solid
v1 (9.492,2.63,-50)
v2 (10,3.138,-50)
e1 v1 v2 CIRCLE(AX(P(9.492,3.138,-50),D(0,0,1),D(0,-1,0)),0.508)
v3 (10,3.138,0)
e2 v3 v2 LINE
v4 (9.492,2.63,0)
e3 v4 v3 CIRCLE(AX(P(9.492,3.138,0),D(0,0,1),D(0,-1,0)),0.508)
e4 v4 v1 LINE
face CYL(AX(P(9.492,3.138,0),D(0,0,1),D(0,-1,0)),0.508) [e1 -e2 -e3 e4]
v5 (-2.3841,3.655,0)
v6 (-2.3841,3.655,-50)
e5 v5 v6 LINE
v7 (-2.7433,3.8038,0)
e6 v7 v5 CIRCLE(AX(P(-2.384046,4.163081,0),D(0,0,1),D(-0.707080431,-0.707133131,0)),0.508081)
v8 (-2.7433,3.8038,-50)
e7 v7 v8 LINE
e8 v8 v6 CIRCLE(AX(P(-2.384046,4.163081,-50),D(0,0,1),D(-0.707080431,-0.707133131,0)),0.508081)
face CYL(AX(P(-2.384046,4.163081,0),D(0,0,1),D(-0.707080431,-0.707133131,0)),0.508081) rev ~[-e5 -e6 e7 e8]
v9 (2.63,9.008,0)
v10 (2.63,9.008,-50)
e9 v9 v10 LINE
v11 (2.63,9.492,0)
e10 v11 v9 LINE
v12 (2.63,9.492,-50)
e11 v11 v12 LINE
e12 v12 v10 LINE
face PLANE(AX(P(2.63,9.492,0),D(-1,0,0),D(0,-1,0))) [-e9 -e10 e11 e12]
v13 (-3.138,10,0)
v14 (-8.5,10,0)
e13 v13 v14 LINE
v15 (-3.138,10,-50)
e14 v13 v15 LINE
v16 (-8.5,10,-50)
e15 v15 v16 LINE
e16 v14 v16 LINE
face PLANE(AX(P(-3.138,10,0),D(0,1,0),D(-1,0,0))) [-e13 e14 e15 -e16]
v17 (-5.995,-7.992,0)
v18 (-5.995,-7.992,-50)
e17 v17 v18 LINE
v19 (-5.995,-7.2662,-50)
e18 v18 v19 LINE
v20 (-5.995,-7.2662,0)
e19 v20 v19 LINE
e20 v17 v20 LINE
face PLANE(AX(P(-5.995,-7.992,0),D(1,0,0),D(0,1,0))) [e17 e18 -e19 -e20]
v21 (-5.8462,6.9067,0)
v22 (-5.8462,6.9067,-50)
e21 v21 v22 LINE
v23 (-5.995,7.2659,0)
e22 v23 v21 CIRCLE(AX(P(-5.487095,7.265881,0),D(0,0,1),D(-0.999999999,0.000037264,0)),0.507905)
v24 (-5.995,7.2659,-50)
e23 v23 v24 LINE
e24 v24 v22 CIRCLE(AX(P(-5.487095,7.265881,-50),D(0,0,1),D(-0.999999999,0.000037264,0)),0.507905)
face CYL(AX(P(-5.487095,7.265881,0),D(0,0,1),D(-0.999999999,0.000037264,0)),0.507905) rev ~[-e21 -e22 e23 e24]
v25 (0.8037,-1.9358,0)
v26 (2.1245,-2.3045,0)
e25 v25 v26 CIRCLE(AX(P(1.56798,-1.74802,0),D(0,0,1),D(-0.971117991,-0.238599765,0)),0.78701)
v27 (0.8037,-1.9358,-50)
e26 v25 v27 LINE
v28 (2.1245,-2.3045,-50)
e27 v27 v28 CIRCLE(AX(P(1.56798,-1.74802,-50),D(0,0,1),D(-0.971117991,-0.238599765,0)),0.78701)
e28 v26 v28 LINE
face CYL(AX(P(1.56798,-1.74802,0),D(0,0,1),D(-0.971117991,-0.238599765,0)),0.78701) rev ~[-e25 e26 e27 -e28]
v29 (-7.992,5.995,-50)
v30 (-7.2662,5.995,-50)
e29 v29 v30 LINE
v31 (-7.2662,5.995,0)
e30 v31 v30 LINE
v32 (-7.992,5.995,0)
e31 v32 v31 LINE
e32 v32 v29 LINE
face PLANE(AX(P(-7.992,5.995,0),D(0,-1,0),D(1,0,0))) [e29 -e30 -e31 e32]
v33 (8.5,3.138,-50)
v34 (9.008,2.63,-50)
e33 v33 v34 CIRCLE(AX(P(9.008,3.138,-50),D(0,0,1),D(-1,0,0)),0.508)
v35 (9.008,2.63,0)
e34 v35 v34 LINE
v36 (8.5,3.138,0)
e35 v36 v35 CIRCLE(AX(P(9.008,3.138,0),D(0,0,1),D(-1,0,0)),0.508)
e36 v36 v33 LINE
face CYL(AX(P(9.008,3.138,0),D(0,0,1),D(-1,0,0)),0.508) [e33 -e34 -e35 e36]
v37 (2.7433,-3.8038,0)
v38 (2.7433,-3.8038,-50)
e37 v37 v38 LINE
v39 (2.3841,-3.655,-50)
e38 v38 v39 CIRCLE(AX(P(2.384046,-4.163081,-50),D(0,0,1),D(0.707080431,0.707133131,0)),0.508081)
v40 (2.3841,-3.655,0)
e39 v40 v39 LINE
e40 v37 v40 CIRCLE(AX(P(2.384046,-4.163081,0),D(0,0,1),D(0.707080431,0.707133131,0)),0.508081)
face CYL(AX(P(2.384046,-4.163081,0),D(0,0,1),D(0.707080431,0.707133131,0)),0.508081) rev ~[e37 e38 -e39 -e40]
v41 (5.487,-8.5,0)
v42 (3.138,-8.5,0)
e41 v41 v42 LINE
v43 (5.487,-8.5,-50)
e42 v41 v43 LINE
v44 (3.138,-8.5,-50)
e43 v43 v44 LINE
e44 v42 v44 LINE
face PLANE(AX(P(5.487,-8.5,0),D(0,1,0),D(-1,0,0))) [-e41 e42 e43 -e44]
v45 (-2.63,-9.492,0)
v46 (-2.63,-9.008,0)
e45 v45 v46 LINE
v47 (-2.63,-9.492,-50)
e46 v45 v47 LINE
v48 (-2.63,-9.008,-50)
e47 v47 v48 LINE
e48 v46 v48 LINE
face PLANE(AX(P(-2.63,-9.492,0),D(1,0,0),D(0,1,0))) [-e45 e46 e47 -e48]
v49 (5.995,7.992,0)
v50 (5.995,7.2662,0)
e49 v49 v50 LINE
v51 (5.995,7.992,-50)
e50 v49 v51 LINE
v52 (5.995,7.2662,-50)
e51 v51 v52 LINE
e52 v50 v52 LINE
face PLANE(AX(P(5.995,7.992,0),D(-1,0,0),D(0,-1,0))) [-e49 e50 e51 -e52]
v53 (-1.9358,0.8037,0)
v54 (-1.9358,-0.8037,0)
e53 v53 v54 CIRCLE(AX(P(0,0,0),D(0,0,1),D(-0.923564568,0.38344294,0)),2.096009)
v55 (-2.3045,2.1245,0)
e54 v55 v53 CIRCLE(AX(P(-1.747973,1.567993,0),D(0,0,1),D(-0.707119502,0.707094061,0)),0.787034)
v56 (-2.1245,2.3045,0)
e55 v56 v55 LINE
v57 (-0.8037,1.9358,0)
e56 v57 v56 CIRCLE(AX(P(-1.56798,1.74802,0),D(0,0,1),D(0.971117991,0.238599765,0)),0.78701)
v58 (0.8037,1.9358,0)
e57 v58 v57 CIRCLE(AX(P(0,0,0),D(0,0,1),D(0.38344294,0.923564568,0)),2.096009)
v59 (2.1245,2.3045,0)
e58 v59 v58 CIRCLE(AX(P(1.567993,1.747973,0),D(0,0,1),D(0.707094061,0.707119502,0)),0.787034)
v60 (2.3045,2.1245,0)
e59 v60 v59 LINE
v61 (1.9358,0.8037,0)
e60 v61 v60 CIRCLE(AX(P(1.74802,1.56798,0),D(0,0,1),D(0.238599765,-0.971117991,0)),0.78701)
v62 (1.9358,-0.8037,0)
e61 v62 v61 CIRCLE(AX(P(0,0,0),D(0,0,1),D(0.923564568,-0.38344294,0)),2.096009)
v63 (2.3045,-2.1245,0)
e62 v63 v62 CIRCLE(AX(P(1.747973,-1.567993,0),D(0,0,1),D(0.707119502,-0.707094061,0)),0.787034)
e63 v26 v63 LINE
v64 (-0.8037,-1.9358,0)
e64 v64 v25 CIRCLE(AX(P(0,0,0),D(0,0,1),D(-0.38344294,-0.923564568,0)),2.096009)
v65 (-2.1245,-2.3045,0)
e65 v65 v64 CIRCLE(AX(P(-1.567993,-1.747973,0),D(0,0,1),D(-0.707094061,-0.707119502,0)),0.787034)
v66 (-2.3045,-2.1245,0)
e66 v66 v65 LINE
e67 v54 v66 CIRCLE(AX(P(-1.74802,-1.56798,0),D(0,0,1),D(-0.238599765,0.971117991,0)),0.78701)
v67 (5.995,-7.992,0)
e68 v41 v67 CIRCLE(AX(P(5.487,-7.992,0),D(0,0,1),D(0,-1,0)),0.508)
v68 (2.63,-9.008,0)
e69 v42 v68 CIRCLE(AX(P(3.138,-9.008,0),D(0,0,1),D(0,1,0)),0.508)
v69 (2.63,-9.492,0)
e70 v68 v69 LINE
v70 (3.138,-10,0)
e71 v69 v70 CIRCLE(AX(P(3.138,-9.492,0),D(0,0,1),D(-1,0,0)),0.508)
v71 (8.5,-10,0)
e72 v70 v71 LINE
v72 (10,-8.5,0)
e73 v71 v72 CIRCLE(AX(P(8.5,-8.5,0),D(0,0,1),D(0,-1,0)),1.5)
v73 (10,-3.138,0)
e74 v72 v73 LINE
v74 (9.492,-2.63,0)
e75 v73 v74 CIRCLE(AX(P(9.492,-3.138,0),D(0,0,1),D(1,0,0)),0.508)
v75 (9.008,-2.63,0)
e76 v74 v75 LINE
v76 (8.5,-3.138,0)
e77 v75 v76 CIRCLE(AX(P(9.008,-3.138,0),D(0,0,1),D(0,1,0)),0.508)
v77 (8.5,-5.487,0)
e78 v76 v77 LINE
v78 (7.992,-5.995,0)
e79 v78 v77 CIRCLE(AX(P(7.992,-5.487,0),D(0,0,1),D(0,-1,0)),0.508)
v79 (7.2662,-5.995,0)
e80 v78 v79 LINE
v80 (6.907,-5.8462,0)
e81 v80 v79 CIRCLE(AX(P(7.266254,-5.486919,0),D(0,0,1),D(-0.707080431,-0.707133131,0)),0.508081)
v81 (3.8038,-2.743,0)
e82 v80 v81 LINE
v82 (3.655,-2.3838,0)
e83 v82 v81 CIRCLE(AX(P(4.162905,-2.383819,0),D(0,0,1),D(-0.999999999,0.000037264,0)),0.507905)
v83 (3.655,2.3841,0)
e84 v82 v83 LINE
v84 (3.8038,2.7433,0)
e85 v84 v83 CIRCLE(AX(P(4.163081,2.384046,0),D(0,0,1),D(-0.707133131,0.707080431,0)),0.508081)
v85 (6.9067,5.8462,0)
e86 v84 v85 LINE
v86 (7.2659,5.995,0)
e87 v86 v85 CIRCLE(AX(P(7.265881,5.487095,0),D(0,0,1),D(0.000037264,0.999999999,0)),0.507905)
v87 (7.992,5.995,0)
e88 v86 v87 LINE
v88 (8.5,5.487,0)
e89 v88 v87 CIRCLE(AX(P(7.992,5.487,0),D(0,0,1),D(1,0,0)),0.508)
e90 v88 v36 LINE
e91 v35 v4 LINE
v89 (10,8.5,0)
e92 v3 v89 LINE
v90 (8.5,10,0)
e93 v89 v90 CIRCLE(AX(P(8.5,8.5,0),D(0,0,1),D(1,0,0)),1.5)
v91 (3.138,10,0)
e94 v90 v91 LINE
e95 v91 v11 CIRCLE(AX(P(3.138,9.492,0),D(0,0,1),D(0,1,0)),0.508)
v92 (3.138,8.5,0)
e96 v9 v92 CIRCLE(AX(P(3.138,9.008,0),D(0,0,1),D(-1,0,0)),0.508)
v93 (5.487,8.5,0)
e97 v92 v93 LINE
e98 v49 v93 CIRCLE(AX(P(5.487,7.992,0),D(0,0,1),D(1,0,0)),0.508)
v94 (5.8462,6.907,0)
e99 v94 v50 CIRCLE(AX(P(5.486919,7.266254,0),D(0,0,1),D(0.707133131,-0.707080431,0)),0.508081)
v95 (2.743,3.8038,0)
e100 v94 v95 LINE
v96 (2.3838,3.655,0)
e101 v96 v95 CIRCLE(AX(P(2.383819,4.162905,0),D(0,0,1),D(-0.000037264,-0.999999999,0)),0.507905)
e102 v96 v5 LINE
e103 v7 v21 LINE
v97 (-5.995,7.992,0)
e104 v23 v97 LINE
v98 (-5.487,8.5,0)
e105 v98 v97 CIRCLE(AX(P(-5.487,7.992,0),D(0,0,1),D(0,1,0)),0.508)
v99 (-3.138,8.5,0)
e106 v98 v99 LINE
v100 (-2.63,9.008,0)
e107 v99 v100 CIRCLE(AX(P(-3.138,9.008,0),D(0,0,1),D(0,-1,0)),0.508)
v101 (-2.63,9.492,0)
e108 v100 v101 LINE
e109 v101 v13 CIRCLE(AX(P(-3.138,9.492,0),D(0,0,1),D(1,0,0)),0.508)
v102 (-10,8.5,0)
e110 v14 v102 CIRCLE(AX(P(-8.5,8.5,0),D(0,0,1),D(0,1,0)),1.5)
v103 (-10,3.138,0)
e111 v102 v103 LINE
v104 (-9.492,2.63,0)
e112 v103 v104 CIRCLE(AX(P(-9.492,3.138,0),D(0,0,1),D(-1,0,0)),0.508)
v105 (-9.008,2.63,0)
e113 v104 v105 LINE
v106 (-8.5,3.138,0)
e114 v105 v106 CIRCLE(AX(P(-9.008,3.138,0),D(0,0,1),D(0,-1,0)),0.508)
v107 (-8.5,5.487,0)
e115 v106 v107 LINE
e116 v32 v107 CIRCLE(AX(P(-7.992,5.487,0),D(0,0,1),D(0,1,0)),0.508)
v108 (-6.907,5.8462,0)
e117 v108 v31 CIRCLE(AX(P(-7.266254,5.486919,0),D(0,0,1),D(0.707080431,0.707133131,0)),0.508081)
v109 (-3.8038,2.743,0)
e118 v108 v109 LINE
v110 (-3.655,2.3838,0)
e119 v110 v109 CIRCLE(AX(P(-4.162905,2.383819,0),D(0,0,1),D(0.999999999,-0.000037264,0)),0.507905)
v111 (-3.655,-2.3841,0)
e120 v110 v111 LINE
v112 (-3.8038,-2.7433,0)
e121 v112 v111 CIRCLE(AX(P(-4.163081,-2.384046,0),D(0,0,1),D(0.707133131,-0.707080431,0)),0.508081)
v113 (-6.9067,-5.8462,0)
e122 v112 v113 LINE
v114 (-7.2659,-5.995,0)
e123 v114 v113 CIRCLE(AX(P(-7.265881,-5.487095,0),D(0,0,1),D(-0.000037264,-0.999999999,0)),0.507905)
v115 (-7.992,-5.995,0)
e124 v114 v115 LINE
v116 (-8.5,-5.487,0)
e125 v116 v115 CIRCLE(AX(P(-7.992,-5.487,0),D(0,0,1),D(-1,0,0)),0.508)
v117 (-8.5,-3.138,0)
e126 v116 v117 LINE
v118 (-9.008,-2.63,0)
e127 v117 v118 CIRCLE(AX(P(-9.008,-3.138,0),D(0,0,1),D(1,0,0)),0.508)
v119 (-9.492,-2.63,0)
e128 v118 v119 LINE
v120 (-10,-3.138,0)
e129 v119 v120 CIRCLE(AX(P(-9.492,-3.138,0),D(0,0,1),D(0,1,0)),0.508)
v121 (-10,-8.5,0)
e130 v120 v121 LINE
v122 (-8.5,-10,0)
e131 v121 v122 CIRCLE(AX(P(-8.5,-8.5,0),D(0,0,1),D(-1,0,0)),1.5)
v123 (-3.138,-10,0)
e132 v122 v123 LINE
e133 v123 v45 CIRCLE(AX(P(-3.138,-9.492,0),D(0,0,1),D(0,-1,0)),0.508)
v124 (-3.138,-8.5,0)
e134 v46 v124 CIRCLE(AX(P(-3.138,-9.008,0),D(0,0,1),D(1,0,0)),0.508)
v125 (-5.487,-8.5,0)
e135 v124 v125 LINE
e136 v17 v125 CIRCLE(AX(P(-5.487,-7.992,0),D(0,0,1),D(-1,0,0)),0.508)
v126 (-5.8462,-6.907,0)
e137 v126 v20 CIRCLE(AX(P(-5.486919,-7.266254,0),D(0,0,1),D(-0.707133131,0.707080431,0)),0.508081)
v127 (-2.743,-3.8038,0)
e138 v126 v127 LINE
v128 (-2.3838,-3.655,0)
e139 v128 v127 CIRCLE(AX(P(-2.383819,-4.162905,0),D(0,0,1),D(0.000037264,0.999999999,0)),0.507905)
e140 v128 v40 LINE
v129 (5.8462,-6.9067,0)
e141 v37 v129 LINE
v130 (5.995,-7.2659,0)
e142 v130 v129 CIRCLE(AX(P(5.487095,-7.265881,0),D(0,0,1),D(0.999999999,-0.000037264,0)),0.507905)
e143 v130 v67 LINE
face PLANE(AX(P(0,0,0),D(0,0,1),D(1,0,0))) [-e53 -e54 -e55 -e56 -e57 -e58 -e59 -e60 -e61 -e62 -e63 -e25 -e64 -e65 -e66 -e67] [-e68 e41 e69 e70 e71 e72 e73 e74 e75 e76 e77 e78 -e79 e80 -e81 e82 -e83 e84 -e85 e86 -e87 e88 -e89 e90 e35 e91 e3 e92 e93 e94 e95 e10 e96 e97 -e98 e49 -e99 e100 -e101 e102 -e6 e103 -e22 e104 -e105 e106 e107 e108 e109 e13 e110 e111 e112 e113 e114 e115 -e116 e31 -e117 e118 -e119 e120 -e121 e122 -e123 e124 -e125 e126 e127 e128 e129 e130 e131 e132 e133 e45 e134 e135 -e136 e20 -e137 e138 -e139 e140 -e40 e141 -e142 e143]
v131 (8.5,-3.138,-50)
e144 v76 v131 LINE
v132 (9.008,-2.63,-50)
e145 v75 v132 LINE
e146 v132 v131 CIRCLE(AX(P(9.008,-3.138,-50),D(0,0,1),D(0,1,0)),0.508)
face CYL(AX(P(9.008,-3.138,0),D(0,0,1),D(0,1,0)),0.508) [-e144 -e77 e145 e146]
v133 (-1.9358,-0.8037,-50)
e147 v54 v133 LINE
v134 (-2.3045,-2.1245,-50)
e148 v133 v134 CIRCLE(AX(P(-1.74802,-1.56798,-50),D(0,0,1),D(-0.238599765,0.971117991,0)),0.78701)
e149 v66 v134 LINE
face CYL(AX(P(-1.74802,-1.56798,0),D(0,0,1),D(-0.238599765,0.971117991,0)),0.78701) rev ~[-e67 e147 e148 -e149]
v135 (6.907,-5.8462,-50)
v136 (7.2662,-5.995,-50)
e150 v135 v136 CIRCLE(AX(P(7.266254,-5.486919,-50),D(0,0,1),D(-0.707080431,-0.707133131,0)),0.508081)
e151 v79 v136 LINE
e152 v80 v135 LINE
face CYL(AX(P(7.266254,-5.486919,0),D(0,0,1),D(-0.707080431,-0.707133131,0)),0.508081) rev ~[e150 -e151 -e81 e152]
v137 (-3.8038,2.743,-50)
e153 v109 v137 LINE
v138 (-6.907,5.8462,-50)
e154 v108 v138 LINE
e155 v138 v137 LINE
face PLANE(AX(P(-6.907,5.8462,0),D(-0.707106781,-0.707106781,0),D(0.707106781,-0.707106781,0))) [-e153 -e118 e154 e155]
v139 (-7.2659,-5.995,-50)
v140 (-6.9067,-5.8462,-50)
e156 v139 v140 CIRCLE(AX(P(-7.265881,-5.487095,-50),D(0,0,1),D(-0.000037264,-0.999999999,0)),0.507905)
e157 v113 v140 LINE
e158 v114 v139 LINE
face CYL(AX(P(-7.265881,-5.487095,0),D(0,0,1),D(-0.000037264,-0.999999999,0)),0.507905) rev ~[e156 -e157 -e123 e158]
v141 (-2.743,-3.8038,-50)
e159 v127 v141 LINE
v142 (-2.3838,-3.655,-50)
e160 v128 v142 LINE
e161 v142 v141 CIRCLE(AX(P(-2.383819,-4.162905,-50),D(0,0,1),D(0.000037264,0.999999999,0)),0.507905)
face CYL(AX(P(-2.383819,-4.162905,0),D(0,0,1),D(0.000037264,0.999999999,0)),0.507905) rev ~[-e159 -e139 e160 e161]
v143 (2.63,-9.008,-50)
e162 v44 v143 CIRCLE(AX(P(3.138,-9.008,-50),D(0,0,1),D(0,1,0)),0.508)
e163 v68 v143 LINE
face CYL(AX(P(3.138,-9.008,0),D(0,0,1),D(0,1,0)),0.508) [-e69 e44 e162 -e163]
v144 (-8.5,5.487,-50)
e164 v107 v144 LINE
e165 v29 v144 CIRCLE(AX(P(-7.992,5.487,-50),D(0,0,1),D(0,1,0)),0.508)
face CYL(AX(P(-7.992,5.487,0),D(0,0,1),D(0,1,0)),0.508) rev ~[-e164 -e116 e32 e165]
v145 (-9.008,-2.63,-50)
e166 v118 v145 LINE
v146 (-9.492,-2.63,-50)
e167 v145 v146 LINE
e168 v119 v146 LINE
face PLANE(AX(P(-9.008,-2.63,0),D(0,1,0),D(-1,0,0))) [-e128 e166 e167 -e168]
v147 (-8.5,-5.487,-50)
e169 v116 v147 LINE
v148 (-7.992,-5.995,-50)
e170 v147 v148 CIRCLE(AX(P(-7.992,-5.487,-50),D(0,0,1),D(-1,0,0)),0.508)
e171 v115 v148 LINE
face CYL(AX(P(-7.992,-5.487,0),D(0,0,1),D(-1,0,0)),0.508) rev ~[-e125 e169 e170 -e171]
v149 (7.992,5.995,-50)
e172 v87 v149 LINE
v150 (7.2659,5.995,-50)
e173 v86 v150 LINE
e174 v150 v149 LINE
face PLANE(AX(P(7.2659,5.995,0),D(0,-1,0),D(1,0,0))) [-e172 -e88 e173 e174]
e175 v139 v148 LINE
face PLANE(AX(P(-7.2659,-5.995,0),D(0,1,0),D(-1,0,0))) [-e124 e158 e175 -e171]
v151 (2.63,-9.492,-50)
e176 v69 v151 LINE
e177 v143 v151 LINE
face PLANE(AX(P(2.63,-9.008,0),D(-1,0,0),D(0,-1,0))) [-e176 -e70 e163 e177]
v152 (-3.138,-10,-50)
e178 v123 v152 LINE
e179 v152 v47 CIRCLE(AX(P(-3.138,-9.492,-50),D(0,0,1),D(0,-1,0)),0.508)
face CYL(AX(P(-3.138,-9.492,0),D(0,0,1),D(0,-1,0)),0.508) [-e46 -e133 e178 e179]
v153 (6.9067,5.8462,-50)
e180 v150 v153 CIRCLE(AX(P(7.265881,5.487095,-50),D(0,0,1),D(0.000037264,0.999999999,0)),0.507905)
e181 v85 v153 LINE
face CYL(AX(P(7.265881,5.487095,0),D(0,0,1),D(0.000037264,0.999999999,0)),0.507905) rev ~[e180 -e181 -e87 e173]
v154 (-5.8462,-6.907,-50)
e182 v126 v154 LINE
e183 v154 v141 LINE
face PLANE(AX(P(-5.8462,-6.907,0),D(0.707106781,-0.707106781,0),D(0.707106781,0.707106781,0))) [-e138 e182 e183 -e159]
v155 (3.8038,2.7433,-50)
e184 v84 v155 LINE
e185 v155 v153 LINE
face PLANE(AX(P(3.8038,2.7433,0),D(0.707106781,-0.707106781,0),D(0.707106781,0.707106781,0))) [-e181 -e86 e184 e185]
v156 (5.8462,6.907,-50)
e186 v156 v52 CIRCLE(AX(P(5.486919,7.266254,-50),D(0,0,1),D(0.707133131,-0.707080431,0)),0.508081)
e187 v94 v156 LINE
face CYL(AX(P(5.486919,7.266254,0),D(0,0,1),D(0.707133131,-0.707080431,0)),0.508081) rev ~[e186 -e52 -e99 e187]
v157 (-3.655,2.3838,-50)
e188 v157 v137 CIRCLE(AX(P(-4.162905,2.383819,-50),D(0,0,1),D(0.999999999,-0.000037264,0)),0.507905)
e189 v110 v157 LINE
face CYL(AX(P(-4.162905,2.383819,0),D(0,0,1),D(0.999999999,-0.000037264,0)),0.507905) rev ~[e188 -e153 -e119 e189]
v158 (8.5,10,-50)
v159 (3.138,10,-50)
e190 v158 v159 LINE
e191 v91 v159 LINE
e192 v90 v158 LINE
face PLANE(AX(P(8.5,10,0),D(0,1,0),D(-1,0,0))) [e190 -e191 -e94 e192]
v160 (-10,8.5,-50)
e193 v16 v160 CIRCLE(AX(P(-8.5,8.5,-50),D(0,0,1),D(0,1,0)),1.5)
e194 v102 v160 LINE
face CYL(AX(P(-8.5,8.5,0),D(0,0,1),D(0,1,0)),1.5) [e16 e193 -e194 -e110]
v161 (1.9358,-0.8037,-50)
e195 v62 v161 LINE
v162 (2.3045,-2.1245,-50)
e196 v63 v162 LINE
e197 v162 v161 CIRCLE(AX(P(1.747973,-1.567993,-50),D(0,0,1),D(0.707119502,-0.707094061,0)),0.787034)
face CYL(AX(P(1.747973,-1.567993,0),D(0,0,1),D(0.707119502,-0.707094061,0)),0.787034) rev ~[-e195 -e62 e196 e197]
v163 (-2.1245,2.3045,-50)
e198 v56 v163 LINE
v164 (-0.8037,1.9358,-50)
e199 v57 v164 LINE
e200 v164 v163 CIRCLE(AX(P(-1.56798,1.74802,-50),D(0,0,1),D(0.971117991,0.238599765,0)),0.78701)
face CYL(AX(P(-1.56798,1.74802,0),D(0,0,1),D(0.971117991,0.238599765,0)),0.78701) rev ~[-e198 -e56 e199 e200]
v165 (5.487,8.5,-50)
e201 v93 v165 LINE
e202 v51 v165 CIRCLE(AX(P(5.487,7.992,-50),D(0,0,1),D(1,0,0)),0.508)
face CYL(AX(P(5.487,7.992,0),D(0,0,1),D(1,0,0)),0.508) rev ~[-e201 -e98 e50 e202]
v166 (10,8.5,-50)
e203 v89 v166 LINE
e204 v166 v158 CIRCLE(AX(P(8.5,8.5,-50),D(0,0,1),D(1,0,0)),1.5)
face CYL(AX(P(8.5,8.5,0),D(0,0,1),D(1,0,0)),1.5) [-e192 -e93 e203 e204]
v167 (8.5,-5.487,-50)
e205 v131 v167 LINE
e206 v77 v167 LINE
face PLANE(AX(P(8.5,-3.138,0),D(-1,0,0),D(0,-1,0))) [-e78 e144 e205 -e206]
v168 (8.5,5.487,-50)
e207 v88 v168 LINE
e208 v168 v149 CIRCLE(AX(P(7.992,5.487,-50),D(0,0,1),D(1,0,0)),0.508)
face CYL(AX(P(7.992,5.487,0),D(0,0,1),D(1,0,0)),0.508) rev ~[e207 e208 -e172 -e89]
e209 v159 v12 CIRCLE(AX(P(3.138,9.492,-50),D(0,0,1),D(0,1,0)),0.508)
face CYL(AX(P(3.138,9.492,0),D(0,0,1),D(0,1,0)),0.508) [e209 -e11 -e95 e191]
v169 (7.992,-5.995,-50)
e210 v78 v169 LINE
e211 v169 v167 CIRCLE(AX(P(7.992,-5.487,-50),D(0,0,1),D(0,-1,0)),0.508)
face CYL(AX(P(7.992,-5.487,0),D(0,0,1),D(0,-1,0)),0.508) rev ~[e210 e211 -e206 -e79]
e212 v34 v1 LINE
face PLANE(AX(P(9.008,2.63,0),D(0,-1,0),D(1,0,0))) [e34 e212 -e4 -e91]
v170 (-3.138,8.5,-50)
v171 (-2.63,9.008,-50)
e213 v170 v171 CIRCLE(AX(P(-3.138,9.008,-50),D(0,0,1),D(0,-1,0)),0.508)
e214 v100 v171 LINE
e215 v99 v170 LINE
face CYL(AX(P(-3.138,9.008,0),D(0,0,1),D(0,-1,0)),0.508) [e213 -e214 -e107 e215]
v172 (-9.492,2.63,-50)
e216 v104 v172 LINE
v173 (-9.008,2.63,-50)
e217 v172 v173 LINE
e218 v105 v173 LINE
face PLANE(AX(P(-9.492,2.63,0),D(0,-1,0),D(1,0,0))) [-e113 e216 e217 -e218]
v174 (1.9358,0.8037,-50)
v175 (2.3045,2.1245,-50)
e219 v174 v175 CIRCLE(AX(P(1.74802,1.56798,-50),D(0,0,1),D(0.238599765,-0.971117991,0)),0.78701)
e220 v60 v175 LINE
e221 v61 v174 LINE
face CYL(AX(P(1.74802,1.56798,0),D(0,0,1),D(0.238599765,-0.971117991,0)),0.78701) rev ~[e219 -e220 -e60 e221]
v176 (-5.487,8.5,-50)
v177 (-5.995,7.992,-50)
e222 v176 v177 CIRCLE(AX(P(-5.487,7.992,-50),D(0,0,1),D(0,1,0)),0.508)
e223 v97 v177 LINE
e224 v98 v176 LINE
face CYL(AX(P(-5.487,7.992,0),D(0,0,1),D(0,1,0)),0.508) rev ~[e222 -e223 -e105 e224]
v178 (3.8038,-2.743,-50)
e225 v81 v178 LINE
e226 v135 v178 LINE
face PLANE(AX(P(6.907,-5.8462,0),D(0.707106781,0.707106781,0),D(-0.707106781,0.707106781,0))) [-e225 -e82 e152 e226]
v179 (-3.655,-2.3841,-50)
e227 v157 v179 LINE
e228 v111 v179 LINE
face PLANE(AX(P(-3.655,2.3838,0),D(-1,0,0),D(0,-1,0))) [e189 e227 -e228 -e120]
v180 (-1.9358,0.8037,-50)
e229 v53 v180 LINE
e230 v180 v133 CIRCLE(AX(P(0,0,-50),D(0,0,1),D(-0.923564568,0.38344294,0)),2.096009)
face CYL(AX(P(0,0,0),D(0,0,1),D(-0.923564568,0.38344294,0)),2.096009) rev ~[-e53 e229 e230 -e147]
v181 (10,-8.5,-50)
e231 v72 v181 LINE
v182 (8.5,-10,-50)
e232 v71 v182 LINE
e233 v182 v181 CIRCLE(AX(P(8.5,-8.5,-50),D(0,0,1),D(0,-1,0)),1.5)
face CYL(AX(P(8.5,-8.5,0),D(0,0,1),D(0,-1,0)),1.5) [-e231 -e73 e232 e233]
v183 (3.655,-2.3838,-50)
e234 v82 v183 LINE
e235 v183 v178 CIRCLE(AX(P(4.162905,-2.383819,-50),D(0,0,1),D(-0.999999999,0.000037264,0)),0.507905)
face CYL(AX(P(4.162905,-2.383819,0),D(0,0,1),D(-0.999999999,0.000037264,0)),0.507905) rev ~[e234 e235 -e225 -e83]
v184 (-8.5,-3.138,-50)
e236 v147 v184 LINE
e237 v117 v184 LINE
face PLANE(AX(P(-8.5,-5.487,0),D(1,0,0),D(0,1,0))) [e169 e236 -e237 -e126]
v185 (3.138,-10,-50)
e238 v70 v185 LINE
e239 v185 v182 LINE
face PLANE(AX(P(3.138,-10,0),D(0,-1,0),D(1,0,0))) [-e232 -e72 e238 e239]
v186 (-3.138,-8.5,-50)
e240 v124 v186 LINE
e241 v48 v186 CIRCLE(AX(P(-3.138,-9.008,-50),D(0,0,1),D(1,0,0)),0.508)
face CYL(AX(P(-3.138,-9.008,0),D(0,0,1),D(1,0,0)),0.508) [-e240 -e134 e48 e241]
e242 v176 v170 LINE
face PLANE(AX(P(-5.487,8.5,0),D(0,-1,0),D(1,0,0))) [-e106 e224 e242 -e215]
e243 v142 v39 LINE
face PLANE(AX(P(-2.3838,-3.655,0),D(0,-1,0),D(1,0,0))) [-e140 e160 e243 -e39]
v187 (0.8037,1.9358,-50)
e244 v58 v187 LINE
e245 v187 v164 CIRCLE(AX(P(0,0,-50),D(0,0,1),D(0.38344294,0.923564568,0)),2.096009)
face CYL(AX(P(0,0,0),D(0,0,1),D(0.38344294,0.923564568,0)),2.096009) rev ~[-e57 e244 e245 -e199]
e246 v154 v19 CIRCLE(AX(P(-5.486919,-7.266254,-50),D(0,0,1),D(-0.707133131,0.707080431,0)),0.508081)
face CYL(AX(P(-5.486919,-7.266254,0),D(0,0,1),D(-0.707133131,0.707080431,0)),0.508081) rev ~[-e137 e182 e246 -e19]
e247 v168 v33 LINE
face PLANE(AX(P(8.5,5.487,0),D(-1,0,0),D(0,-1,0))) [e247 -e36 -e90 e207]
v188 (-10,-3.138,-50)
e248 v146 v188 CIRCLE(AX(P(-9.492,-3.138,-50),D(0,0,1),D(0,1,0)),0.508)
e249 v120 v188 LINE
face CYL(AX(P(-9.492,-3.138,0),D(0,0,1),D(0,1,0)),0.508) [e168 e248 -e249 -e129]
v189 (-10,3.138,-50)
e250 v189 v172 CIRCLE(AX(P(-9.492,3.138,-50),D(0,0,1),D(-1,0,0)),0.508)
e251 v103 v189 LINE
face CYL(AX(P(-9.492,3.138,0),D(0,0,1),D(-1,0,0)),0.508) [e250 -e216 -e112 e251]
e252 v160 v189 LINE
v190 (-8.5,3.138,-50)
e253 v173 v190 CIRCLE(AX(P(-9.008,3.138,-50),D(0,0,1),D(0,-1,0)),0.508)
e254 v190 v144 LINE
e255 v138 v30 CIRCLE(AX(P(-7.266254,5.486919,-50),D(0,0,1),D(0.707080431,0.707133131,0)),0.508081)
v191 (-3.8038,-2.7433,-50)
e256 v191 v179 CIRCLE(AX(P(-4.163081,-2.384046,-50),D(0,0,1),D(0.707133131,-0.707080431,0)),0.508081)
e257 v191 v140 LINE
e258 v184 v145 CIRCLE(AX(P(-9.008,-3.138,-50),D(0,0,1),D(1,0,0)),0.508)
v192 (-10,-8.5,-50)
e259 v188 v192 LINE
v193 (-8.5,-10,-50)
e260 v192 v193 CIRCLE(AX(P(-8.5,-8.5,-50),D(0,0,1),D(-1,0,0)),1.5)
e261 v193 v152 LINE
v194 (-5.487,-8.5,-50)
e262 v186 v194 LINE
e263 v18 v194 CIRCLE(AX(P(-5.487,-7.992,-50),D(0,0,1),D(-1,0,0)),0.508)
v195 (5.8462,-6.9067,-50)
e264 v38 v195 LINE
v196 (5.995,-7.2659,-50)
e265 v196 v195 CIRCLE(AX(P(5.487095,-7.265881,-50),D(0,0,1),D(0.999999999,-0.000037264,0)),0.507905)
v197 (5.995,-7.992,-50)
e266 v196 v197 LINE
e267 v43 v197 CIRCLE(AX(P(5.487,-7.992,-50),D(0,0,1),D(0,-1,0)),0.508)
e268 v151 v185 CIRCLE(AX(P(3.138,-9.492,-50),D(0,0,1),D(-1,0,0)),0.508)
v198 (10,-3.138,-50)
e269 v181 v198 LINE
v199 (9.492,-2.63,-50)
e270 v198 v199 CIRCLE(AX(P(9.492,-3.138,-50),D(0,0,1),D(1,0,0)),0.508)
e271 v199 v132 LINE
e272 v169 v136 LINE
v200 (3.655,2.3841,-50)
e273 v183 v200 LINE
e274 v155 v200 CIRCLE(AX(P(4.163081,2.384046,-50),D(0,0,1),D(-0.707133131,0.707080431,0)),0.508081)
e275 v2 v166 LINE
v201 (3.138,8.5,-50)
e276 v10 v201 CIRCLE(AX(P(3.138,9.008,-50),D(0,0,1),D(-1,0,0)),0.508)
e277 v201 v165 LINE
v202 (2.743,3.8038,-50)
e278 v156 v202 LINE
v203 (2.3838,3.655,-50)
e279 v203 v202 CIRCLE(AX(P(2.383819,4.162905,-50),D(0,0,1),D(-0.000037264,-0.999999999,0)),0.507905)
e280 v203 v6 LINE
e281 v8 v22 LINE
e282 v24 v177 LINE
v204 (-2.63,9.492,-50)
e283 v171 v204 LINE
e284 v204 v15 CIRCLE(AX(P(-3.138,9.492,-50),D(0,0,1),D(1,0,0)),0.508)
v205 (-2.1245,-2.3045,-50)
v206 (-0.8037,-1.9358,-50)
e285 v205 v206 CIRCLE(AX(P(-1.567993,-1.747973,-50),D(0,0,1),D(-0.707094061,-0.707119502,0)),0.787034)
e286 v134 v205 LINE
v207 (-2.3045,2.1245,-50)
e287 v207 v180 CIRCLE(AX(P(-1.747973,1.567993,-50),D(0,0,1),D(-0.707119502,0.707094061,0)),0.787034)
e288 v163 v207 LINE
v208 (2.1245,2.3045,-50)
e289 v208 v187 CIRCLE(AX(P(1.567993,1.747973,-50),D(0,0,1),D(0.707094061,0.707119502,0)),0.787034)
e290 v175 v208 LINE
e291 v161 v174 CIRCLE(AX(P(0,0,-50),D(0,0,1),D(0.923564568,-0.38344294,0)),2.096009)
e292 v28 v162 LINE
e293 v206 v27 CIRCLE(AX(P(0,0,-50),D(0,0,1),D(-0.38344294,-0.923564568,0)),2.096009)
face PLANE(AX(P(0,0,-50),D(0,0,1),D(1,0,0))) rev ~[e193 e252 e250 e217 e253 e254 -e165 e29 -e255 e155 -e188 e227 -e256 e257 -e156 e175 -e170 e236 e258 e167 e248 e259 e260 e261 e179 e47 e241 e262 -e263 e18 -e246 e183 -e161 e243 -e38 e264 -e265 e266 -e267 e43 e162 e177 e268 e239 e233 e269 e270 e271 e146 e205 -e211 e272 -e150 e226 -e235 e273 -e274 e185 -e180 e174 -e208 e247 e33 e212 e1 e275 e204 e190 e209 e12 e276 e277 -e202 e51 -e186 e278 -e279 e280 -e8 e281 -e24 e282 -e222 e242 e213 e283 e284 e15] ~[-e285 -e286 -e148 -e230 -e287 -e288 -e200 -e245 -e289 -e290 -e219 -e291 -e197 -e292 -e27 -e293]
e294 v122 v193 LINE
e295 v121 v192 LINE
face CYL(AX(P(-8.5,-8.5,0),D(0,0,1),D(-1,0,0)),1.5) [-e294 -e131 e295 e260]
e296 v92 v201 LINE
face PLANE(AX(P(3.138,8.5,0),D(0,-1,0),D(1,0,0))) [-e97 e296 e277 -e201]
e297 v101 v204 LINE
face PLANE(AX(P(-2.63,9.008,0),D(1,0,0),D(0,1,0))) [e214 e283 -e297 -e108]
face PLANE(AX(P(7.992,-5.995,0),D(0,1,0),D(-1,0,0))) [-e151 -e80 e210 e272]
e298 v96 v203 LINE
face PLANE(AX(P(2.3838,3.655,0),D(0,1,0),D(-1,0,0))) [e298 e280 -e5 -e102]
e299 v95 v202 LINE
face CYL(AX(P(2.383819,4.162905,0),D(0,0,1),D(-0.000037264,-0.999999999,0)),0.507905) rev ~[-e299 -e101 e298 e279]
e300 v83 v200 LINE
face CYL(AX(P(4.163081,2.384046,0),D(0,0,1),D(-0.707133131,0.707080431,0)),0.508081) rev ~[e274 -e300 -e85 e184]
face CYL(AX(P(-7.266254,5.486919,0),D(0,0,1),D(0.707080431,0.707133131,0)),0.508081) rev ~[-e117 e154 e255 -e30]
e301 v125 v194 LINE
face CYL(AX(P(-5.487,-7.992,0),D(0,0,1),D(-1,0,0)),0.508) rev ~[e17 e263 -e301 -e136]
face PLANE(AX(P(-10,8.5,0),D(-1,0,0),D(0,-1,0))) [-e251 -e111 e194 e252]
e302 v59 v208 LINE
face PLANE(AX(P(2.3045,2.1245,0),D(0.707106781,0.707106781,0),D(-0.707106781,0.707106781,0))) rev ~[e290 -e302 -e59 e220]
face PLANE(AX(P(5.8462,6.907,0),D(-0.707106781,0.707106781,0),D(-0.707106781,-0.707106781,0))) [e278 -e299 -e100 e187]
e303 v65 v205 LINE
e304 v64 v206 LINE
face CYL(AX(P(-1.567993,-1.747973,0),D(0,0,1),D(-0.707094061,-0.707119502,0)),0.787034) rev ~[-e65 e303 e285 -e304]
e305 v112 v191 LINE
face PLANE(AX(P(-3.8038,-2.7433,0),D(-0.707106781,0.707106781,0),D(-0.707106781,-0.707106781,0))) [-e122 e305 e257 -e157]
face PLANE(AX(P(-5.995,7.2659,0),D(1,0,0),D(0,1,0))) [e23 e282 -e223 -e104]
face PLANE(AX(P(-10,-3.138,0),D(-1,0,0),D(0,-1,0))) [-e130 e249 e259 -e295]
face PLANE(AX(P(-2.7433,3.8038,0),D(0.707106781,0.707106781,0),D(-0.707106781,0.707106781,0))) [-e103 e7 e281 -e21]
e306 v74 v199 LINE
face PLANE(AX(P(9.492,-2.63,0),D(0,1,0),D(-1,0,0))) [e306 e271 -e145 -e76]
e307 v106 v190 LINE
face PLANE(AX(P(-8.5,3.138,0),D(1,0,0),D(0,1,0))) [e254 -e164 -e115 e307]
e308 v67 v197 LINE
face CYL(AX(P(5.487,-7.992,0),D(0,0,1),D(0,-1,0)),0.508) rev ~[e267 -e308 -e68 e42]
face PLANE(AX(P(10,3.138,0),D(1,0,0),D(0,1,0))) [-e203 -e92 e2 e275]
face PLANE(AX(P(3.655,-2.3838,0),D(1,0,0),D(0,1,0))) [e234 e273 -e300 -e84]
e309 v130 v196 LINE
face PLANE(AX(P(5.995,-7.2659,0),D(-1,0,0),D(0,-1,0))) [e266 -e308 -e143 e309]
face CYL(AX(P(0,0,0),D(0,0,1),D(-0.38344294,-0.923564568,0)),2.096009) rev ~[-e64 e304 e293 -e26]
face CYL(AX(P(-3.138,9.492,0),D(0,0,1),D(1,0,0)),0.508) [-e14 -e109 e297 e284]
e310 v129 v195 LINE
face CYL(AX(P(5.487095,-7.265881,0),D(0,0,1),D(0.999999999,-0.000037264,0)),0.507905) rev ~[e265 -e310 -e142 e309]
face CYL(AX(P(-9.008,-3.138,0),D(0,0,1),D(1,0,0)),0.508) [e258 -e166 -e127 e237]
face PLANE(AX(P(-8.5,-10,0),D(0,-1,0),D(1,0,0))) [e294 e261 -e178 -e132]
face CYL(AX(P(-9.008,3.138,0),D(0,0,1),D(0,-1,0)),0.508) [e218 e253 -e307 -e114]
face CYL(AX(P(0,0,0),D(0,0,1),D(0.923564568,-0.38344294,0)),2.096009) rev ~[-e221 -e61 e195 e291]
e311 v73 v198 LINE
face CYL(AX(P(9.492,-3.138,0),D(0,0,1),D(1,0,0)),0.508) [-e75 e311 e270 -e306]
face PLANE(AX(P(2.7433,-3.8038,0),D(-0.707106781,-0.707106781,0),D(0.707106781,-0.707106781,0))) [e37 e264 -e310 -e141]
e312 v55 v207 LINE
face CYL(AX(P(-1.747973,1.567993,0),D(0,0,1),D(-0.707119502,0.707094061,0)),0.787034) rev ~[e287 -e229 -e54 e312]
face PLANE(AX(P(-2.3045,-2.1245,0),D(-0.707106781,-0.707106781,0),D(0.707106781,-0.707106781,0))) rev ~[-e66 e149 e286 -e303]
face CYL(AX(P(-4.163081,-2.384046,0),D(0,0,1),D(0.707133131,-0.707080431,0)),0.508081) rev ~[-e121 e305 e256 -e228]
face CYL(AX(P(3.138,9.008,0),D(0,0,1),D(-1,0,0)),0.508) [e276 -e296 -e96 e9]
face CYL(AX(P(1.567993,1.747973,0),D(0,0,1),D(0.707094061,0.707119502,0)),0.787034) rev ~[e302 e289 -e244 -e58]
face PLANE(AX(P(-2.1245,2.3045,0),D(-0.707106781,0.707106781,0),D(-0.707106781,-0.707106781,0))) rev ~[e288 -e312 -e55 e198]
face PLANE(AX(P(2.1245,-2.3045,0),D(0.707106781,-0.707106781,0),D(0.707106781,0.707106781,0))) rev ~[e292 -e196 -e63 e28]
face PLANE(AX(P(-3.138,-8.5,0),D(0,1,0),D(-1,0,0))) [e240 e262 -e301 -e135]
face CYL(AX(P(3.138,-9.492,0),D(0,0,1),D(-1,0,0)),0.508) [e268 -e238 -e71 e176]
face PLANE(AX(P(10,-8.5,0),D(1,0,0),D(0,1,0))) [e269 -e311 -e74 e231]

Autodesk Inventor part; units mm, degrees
ref_plane "YZ Plane" through (0, 0, 0) normal (1, 0, 0) x (0, 1, 0)
ref_plane "XZ Plane" through (0, 0, 0) normal (0, 1, 0) x (-1, 0, 0)
ref_plane "XY Plane" through (0, 0, 0) normal (0, 0, 1) x (1, 0, 0)
sketch "Sketch_1" plane through (0, 0, 0) normal (0, 0, 1) x (1, 0, 0)
  arc A0 (-10, -8.5) -> (-8.5, -10) centre (-8.5, -8.5) ccw
  line L0 (-8.5, -10) -> (-3.138, -10)
  arc A1 (-3.138, -10) -> (-2.63, -9.492) centre (-3.138, -9.492) ccw
  line L1 (-2.63, -9.492) -> (-2.63, -9.008)
  arc A2 (-2.63, -9.008) -> (-3.138, -8.5) centre (-3.138, -9.008) ccw
  line L2 (-3.138, -8.5) -> (-5.487, -8.5)
  arc A3 (-5.995, -7.992) -> (-5.487, -8.5) centre (-5.487, -7.992) ccw
  line L3 (-5.995, -7.992) -> (-5.995, -7.2662)
  arc A4 (-5.8462, -6.907) -> (-5.995, -7.2662) centre (-5.487, -7.2662) ccw
  line L4 (-5.8462, -6.907) -> (-2.743, -3.8038)
  arc A5 (-2.3838, -3.655) -> (-2.743, -3.8038) centre (-2.3838, -4.163) ccw
  line L5 (-2.3838, -3.655) -> (2.3841, -3.655)
  arc A6 (2.7433, -3.8038) -> (2.3841, -3.655) centre (2.3841, -4.163) ccw
  line L6 (2.7433, -3.8038) -> (5.8462, -6.9067)
  arc A7 (5.995, -7.2659) -> (5.8462, -6.9067) centre (5.487, -7.2659) ccw
  line L7 (5.995, -7.2659) -> (5.995, -7.992)
  arc A8 (5.487, -8.5) -> (5.995, -7.992) centre (5.487, -7.992) ccw
  line L8 (5.487, -8.5) -> (3.138, -8.5)
  arc A9 (3.138, -8.5) -> (2.63, -9.008) centre (3.138, -9.008) ccw
  line L9 (2.63, -9.008) -> (2.63, -9.492)
  arc A10 (2.63, -9.492) -> (3.138, -10) centre (3.138, -9.492) ccw
  line L10 (3.138, -10) -> (8.5, -10)
  arc A11 (8.5, -10) -> (10, -8.5) centre (8.5, -8.5) ccw
  line L11 (10, -8.5) -> (10, -3.138)
  arc A12 (10, -3.138) -> (9.492, -2.63) centre (9.492, -3.138) ccw
  line L12 (9.492, -2.63) -> (9.008, -2.63)
  arc A13 (9.008, -2.63) -> (8.5, -3.138) centre (9.008, -3.138) ccw
  line L13 (8.5, -3.138) -> (8.5, -5.487)
  arc A14 (7.992, -5.995) -> (8.5, -5.487) centre (7.992, -5.487) ccw
  line L14 (7.992, -5.995) -> (7.2662, -5.995)
  arc A15 (6.907, -5.8462) -> (7.2662, -5.995) centre (7.2662, -5.487) ccw
  line L15 (6.907, -5.8462) -> (3.8038, -2.743)
  arc A16 (3.655, -2.3838) -> (3.8038, -2.743) centre (4.163, -2.3838) ccw
  line L16 (3.655, -2.3838) -> (3.655, 2.3841)
  arc A17 (3.8038, 2.7433) -> (3.655, 2.3841) centre (4.163, 2.3841) ccw
  line L17 (3.8038, 2.7433) -> (6.9067, 5.8462)
  arc A18 (7.2659, 5.995) -> (6.9067, 5.8462) centre (7.2659, 5.487) ccw
  line L18 (7.2659, 5.995) -> (7.992, 5.995)
  arc A19 (8.5, 5.487) -> (7.992, 5.995) centre (7.992, 5.487) ccw
  line L19 (8.5, 5.487) -> (8.5, 3.138)
  arc A20 (8.5, 3.138) -> (9.008, 2.63) centre (9.008, 3.138) ccw
  line L20 (9.008, 2.63) -> (9.492, 2.63)
  arc A21 (9.492, 2.63) -> (10, 3.138) centre (9.492, 3.138) ccw
  line L21 (10, 3.138) -> (10, 8.5)
  arc A22 (10, 8.5) -> (8.5, 10) centre (8.5, 8.5) ccw
  line L22 (8.5, 10) -> (3.138, 10)
  arc A23 (3.138, 10) -> (2.63, 9.492) centre (3.138, 9.492) ccw
  line L23 (2.63, 9.492) -> (2.63, 9.008)
  arc A24 (2.63, 9.008) -> (3.138, 8.5) centre (3.138, 9.008) ccw
  line L24 (3.138, 8.5) -> (5.487, 8.5)
  arc A25 (5.995, 7.992) -> (5.487, 8.5) centre (5.487, 7.992) ccw
  line L25 (5.995, 7.992) -> (5.995, 7.2662)
  arc A26 (5.8462, 6.907) -> (5.995, 7.2662) centre (5.487, 7.2662) ccw
  line L26 (5.8462, 6.907) -> (2.743, 3.8038)
  arc A27 (2.3838, 3.655) -> (2.743, 3.8038) centre (2.3838, 4.163) ccw
  line L27 (2.3838, 3.655) -> (-2.3841, 3.655)
  arc A28 (-2.7433, 3.8038) -> (-2.3841, 3.655) centre (-2.3841, 4.163) ccw
  line L28 (-2.7433, 3.8038) -> (-5.8462, 6.9067)
  arc A29 (-5.995, 7.2659) -> (-5.8462, 6.9067) centre (-5.487, 7.2659) ccw
  line L29 (-5.995, 7.2659) -> (-5.995, 7.992)
  arc A30 (-5.487, 8.5) -> (-5.995, 7.992) centre (-5.487, 7.992) ccw
  line L30 (-5.487, 8.5) -> (-3.138, 8.5)
  arc A31 (-3.138, 8.5) -> (-2.63, 9.008) centre (-3.138, 9.008) ccw
  line L31 (-2.63, 9.008) -> (-2.63, 9.492)
  arc A32 (-2.63, 9.492) -> (-3.138, 10) centre (-3.138, 9.492) ccw
  line L32 (-3.138, 10) -> (-8.5, 10)
  arc A33 (-8.5, 10) -> (-10, 8.5) centre (-8.5, 8.5) ccw
  line L33 (-10, 8.5) -> (-10, 3.138)
  arc A34 (-10, 3.138) -> (-9.492, 2.63) centre (-9.492, 3.138) ccw
  line L34 (-9.492, 2.63) -> (-9.008, 2.63)
  arc A35 (-9.008, 2.63) -> (-8.5, 3.138) centre (-9.008, 3.138) ccw
  line L35 (-8.5, 3.138) -> (-8.5, 5.487)
  arc A36 (-7.992, 5.995) -> (-8.5, 5.487) centre (-7.992, 5.487) ccw
  line L36 (-7.992, 5.995) -> (-7.2662, 5.995)
  arc A37 (-6.907, 5.8462) -> (-7.2662, 5.995) centre (-7.2662, 5.487) ccw
  line L37 (-6.907, 5.8462) -> (-3.8038, 2.743)
  arc A38 (-3.655, 2.3838) -> (-3.8038, 2.743) centre (-4.163, 2.3838) ccw
  line L38 (-3.655, 2.3838) -> (-3.655, -2.3841)
  arc A39 (-3.8038, -2.7433) -> (-3.655, -2.3841) centre (-4.163, -2.3841) ccw
  line L39 (-3.8038, -2.7433) -> (-6.9067, -5.8462)
  arc A40 (-7.2659, -5.995) -> (-6.9067, -5.8462) centre (-7.2659, -5.487) ccw
  line L40 (-7.2659, -5.995) -> (-7.992, -5.995)
  arc A41 (-8.5, -5.487) -> (-7.992, -5.995) centre (-7.992, -5.487) ccw
  line L41 (-8.5, -5.487) -> (-8.5, -3.138)
  arc A42 (-8.5, -3.138) -> (-9.008, -2.63) centre (-9.008, -3.138) ccw
  line L42 (-9.008, -2.63) -> (-9.492, -2.63)
  arc A43 (-9.492, -2.63) -> (-10, -3.138) centre (-9.492, -3.138) ccw
  line L43 (-10, -3.138) -> (-10, -8.5)
  arc A44 (-1.9358, -0.8037) -> (-2.3045, -2.1245) centre (-1.748, -1.568) ccw
  line L44 (-2.3045, -2.1245) -> (-2.1245, -2.3045)
  arc A45 (-2.1245, -2.3045) -> (-0.8037, -1.9358) centre (-1.568, -1.748) ccw
  arc A46 (-0.8037, -1.9358) -> (0.8037, -1.9358) centre (0, 0) ccw
  arc A47 (0.8037, -1.9358) -> (2.1245, -2.3045) centre (1.568, -1.748) ccw
  line L45 (2.1245, -2.3045) -> (2.3045, -2.1245)
  arc A48 (2.3045, -2.1245) -> (1.9358, -0.8037) centre (1.748, -1.568) ccw
  arc A49 (1.9358, -0.8037) -> (1.9358, 0.8037) centre (0, 0) ccw
  arc A50 (1.9358, 0.8037) -> (2.3045, 2.1245) centre (1.748, 1.568) ccw
  line L46 (2.3045, 2.1245) -> (2.1245, 2.3045)
  arc A51 (2.1245, 2.3045) -> (0.8037, 1.9358) centre (1.568, 1.748) ccw
  arc A52 (0.8037, 1.9358) -> (-0.8037, 1.9358) centre (0, 0) ccw
  arc A53 (-0.8037, 1.9358) -> (-2.1245, 2.3045) centre (-1.568, 1.748) ccw
  line L47 (-2.1245, 2.3045) -> (-2.3045, 2.1245)
  arc A54 (-2.3045, 2.1245) -> (-1.9358, 0.8037) centre (-1.748, 1.568) ccw
  arc A55 (-1.9358, 0.8037) -> (-1.9358, -0.8037) centre (0, 0) ccw
extrude "Extrusion1" add sketch "Sketch_1" against normal blind 50
properties part number "20-2020-50-CL"
